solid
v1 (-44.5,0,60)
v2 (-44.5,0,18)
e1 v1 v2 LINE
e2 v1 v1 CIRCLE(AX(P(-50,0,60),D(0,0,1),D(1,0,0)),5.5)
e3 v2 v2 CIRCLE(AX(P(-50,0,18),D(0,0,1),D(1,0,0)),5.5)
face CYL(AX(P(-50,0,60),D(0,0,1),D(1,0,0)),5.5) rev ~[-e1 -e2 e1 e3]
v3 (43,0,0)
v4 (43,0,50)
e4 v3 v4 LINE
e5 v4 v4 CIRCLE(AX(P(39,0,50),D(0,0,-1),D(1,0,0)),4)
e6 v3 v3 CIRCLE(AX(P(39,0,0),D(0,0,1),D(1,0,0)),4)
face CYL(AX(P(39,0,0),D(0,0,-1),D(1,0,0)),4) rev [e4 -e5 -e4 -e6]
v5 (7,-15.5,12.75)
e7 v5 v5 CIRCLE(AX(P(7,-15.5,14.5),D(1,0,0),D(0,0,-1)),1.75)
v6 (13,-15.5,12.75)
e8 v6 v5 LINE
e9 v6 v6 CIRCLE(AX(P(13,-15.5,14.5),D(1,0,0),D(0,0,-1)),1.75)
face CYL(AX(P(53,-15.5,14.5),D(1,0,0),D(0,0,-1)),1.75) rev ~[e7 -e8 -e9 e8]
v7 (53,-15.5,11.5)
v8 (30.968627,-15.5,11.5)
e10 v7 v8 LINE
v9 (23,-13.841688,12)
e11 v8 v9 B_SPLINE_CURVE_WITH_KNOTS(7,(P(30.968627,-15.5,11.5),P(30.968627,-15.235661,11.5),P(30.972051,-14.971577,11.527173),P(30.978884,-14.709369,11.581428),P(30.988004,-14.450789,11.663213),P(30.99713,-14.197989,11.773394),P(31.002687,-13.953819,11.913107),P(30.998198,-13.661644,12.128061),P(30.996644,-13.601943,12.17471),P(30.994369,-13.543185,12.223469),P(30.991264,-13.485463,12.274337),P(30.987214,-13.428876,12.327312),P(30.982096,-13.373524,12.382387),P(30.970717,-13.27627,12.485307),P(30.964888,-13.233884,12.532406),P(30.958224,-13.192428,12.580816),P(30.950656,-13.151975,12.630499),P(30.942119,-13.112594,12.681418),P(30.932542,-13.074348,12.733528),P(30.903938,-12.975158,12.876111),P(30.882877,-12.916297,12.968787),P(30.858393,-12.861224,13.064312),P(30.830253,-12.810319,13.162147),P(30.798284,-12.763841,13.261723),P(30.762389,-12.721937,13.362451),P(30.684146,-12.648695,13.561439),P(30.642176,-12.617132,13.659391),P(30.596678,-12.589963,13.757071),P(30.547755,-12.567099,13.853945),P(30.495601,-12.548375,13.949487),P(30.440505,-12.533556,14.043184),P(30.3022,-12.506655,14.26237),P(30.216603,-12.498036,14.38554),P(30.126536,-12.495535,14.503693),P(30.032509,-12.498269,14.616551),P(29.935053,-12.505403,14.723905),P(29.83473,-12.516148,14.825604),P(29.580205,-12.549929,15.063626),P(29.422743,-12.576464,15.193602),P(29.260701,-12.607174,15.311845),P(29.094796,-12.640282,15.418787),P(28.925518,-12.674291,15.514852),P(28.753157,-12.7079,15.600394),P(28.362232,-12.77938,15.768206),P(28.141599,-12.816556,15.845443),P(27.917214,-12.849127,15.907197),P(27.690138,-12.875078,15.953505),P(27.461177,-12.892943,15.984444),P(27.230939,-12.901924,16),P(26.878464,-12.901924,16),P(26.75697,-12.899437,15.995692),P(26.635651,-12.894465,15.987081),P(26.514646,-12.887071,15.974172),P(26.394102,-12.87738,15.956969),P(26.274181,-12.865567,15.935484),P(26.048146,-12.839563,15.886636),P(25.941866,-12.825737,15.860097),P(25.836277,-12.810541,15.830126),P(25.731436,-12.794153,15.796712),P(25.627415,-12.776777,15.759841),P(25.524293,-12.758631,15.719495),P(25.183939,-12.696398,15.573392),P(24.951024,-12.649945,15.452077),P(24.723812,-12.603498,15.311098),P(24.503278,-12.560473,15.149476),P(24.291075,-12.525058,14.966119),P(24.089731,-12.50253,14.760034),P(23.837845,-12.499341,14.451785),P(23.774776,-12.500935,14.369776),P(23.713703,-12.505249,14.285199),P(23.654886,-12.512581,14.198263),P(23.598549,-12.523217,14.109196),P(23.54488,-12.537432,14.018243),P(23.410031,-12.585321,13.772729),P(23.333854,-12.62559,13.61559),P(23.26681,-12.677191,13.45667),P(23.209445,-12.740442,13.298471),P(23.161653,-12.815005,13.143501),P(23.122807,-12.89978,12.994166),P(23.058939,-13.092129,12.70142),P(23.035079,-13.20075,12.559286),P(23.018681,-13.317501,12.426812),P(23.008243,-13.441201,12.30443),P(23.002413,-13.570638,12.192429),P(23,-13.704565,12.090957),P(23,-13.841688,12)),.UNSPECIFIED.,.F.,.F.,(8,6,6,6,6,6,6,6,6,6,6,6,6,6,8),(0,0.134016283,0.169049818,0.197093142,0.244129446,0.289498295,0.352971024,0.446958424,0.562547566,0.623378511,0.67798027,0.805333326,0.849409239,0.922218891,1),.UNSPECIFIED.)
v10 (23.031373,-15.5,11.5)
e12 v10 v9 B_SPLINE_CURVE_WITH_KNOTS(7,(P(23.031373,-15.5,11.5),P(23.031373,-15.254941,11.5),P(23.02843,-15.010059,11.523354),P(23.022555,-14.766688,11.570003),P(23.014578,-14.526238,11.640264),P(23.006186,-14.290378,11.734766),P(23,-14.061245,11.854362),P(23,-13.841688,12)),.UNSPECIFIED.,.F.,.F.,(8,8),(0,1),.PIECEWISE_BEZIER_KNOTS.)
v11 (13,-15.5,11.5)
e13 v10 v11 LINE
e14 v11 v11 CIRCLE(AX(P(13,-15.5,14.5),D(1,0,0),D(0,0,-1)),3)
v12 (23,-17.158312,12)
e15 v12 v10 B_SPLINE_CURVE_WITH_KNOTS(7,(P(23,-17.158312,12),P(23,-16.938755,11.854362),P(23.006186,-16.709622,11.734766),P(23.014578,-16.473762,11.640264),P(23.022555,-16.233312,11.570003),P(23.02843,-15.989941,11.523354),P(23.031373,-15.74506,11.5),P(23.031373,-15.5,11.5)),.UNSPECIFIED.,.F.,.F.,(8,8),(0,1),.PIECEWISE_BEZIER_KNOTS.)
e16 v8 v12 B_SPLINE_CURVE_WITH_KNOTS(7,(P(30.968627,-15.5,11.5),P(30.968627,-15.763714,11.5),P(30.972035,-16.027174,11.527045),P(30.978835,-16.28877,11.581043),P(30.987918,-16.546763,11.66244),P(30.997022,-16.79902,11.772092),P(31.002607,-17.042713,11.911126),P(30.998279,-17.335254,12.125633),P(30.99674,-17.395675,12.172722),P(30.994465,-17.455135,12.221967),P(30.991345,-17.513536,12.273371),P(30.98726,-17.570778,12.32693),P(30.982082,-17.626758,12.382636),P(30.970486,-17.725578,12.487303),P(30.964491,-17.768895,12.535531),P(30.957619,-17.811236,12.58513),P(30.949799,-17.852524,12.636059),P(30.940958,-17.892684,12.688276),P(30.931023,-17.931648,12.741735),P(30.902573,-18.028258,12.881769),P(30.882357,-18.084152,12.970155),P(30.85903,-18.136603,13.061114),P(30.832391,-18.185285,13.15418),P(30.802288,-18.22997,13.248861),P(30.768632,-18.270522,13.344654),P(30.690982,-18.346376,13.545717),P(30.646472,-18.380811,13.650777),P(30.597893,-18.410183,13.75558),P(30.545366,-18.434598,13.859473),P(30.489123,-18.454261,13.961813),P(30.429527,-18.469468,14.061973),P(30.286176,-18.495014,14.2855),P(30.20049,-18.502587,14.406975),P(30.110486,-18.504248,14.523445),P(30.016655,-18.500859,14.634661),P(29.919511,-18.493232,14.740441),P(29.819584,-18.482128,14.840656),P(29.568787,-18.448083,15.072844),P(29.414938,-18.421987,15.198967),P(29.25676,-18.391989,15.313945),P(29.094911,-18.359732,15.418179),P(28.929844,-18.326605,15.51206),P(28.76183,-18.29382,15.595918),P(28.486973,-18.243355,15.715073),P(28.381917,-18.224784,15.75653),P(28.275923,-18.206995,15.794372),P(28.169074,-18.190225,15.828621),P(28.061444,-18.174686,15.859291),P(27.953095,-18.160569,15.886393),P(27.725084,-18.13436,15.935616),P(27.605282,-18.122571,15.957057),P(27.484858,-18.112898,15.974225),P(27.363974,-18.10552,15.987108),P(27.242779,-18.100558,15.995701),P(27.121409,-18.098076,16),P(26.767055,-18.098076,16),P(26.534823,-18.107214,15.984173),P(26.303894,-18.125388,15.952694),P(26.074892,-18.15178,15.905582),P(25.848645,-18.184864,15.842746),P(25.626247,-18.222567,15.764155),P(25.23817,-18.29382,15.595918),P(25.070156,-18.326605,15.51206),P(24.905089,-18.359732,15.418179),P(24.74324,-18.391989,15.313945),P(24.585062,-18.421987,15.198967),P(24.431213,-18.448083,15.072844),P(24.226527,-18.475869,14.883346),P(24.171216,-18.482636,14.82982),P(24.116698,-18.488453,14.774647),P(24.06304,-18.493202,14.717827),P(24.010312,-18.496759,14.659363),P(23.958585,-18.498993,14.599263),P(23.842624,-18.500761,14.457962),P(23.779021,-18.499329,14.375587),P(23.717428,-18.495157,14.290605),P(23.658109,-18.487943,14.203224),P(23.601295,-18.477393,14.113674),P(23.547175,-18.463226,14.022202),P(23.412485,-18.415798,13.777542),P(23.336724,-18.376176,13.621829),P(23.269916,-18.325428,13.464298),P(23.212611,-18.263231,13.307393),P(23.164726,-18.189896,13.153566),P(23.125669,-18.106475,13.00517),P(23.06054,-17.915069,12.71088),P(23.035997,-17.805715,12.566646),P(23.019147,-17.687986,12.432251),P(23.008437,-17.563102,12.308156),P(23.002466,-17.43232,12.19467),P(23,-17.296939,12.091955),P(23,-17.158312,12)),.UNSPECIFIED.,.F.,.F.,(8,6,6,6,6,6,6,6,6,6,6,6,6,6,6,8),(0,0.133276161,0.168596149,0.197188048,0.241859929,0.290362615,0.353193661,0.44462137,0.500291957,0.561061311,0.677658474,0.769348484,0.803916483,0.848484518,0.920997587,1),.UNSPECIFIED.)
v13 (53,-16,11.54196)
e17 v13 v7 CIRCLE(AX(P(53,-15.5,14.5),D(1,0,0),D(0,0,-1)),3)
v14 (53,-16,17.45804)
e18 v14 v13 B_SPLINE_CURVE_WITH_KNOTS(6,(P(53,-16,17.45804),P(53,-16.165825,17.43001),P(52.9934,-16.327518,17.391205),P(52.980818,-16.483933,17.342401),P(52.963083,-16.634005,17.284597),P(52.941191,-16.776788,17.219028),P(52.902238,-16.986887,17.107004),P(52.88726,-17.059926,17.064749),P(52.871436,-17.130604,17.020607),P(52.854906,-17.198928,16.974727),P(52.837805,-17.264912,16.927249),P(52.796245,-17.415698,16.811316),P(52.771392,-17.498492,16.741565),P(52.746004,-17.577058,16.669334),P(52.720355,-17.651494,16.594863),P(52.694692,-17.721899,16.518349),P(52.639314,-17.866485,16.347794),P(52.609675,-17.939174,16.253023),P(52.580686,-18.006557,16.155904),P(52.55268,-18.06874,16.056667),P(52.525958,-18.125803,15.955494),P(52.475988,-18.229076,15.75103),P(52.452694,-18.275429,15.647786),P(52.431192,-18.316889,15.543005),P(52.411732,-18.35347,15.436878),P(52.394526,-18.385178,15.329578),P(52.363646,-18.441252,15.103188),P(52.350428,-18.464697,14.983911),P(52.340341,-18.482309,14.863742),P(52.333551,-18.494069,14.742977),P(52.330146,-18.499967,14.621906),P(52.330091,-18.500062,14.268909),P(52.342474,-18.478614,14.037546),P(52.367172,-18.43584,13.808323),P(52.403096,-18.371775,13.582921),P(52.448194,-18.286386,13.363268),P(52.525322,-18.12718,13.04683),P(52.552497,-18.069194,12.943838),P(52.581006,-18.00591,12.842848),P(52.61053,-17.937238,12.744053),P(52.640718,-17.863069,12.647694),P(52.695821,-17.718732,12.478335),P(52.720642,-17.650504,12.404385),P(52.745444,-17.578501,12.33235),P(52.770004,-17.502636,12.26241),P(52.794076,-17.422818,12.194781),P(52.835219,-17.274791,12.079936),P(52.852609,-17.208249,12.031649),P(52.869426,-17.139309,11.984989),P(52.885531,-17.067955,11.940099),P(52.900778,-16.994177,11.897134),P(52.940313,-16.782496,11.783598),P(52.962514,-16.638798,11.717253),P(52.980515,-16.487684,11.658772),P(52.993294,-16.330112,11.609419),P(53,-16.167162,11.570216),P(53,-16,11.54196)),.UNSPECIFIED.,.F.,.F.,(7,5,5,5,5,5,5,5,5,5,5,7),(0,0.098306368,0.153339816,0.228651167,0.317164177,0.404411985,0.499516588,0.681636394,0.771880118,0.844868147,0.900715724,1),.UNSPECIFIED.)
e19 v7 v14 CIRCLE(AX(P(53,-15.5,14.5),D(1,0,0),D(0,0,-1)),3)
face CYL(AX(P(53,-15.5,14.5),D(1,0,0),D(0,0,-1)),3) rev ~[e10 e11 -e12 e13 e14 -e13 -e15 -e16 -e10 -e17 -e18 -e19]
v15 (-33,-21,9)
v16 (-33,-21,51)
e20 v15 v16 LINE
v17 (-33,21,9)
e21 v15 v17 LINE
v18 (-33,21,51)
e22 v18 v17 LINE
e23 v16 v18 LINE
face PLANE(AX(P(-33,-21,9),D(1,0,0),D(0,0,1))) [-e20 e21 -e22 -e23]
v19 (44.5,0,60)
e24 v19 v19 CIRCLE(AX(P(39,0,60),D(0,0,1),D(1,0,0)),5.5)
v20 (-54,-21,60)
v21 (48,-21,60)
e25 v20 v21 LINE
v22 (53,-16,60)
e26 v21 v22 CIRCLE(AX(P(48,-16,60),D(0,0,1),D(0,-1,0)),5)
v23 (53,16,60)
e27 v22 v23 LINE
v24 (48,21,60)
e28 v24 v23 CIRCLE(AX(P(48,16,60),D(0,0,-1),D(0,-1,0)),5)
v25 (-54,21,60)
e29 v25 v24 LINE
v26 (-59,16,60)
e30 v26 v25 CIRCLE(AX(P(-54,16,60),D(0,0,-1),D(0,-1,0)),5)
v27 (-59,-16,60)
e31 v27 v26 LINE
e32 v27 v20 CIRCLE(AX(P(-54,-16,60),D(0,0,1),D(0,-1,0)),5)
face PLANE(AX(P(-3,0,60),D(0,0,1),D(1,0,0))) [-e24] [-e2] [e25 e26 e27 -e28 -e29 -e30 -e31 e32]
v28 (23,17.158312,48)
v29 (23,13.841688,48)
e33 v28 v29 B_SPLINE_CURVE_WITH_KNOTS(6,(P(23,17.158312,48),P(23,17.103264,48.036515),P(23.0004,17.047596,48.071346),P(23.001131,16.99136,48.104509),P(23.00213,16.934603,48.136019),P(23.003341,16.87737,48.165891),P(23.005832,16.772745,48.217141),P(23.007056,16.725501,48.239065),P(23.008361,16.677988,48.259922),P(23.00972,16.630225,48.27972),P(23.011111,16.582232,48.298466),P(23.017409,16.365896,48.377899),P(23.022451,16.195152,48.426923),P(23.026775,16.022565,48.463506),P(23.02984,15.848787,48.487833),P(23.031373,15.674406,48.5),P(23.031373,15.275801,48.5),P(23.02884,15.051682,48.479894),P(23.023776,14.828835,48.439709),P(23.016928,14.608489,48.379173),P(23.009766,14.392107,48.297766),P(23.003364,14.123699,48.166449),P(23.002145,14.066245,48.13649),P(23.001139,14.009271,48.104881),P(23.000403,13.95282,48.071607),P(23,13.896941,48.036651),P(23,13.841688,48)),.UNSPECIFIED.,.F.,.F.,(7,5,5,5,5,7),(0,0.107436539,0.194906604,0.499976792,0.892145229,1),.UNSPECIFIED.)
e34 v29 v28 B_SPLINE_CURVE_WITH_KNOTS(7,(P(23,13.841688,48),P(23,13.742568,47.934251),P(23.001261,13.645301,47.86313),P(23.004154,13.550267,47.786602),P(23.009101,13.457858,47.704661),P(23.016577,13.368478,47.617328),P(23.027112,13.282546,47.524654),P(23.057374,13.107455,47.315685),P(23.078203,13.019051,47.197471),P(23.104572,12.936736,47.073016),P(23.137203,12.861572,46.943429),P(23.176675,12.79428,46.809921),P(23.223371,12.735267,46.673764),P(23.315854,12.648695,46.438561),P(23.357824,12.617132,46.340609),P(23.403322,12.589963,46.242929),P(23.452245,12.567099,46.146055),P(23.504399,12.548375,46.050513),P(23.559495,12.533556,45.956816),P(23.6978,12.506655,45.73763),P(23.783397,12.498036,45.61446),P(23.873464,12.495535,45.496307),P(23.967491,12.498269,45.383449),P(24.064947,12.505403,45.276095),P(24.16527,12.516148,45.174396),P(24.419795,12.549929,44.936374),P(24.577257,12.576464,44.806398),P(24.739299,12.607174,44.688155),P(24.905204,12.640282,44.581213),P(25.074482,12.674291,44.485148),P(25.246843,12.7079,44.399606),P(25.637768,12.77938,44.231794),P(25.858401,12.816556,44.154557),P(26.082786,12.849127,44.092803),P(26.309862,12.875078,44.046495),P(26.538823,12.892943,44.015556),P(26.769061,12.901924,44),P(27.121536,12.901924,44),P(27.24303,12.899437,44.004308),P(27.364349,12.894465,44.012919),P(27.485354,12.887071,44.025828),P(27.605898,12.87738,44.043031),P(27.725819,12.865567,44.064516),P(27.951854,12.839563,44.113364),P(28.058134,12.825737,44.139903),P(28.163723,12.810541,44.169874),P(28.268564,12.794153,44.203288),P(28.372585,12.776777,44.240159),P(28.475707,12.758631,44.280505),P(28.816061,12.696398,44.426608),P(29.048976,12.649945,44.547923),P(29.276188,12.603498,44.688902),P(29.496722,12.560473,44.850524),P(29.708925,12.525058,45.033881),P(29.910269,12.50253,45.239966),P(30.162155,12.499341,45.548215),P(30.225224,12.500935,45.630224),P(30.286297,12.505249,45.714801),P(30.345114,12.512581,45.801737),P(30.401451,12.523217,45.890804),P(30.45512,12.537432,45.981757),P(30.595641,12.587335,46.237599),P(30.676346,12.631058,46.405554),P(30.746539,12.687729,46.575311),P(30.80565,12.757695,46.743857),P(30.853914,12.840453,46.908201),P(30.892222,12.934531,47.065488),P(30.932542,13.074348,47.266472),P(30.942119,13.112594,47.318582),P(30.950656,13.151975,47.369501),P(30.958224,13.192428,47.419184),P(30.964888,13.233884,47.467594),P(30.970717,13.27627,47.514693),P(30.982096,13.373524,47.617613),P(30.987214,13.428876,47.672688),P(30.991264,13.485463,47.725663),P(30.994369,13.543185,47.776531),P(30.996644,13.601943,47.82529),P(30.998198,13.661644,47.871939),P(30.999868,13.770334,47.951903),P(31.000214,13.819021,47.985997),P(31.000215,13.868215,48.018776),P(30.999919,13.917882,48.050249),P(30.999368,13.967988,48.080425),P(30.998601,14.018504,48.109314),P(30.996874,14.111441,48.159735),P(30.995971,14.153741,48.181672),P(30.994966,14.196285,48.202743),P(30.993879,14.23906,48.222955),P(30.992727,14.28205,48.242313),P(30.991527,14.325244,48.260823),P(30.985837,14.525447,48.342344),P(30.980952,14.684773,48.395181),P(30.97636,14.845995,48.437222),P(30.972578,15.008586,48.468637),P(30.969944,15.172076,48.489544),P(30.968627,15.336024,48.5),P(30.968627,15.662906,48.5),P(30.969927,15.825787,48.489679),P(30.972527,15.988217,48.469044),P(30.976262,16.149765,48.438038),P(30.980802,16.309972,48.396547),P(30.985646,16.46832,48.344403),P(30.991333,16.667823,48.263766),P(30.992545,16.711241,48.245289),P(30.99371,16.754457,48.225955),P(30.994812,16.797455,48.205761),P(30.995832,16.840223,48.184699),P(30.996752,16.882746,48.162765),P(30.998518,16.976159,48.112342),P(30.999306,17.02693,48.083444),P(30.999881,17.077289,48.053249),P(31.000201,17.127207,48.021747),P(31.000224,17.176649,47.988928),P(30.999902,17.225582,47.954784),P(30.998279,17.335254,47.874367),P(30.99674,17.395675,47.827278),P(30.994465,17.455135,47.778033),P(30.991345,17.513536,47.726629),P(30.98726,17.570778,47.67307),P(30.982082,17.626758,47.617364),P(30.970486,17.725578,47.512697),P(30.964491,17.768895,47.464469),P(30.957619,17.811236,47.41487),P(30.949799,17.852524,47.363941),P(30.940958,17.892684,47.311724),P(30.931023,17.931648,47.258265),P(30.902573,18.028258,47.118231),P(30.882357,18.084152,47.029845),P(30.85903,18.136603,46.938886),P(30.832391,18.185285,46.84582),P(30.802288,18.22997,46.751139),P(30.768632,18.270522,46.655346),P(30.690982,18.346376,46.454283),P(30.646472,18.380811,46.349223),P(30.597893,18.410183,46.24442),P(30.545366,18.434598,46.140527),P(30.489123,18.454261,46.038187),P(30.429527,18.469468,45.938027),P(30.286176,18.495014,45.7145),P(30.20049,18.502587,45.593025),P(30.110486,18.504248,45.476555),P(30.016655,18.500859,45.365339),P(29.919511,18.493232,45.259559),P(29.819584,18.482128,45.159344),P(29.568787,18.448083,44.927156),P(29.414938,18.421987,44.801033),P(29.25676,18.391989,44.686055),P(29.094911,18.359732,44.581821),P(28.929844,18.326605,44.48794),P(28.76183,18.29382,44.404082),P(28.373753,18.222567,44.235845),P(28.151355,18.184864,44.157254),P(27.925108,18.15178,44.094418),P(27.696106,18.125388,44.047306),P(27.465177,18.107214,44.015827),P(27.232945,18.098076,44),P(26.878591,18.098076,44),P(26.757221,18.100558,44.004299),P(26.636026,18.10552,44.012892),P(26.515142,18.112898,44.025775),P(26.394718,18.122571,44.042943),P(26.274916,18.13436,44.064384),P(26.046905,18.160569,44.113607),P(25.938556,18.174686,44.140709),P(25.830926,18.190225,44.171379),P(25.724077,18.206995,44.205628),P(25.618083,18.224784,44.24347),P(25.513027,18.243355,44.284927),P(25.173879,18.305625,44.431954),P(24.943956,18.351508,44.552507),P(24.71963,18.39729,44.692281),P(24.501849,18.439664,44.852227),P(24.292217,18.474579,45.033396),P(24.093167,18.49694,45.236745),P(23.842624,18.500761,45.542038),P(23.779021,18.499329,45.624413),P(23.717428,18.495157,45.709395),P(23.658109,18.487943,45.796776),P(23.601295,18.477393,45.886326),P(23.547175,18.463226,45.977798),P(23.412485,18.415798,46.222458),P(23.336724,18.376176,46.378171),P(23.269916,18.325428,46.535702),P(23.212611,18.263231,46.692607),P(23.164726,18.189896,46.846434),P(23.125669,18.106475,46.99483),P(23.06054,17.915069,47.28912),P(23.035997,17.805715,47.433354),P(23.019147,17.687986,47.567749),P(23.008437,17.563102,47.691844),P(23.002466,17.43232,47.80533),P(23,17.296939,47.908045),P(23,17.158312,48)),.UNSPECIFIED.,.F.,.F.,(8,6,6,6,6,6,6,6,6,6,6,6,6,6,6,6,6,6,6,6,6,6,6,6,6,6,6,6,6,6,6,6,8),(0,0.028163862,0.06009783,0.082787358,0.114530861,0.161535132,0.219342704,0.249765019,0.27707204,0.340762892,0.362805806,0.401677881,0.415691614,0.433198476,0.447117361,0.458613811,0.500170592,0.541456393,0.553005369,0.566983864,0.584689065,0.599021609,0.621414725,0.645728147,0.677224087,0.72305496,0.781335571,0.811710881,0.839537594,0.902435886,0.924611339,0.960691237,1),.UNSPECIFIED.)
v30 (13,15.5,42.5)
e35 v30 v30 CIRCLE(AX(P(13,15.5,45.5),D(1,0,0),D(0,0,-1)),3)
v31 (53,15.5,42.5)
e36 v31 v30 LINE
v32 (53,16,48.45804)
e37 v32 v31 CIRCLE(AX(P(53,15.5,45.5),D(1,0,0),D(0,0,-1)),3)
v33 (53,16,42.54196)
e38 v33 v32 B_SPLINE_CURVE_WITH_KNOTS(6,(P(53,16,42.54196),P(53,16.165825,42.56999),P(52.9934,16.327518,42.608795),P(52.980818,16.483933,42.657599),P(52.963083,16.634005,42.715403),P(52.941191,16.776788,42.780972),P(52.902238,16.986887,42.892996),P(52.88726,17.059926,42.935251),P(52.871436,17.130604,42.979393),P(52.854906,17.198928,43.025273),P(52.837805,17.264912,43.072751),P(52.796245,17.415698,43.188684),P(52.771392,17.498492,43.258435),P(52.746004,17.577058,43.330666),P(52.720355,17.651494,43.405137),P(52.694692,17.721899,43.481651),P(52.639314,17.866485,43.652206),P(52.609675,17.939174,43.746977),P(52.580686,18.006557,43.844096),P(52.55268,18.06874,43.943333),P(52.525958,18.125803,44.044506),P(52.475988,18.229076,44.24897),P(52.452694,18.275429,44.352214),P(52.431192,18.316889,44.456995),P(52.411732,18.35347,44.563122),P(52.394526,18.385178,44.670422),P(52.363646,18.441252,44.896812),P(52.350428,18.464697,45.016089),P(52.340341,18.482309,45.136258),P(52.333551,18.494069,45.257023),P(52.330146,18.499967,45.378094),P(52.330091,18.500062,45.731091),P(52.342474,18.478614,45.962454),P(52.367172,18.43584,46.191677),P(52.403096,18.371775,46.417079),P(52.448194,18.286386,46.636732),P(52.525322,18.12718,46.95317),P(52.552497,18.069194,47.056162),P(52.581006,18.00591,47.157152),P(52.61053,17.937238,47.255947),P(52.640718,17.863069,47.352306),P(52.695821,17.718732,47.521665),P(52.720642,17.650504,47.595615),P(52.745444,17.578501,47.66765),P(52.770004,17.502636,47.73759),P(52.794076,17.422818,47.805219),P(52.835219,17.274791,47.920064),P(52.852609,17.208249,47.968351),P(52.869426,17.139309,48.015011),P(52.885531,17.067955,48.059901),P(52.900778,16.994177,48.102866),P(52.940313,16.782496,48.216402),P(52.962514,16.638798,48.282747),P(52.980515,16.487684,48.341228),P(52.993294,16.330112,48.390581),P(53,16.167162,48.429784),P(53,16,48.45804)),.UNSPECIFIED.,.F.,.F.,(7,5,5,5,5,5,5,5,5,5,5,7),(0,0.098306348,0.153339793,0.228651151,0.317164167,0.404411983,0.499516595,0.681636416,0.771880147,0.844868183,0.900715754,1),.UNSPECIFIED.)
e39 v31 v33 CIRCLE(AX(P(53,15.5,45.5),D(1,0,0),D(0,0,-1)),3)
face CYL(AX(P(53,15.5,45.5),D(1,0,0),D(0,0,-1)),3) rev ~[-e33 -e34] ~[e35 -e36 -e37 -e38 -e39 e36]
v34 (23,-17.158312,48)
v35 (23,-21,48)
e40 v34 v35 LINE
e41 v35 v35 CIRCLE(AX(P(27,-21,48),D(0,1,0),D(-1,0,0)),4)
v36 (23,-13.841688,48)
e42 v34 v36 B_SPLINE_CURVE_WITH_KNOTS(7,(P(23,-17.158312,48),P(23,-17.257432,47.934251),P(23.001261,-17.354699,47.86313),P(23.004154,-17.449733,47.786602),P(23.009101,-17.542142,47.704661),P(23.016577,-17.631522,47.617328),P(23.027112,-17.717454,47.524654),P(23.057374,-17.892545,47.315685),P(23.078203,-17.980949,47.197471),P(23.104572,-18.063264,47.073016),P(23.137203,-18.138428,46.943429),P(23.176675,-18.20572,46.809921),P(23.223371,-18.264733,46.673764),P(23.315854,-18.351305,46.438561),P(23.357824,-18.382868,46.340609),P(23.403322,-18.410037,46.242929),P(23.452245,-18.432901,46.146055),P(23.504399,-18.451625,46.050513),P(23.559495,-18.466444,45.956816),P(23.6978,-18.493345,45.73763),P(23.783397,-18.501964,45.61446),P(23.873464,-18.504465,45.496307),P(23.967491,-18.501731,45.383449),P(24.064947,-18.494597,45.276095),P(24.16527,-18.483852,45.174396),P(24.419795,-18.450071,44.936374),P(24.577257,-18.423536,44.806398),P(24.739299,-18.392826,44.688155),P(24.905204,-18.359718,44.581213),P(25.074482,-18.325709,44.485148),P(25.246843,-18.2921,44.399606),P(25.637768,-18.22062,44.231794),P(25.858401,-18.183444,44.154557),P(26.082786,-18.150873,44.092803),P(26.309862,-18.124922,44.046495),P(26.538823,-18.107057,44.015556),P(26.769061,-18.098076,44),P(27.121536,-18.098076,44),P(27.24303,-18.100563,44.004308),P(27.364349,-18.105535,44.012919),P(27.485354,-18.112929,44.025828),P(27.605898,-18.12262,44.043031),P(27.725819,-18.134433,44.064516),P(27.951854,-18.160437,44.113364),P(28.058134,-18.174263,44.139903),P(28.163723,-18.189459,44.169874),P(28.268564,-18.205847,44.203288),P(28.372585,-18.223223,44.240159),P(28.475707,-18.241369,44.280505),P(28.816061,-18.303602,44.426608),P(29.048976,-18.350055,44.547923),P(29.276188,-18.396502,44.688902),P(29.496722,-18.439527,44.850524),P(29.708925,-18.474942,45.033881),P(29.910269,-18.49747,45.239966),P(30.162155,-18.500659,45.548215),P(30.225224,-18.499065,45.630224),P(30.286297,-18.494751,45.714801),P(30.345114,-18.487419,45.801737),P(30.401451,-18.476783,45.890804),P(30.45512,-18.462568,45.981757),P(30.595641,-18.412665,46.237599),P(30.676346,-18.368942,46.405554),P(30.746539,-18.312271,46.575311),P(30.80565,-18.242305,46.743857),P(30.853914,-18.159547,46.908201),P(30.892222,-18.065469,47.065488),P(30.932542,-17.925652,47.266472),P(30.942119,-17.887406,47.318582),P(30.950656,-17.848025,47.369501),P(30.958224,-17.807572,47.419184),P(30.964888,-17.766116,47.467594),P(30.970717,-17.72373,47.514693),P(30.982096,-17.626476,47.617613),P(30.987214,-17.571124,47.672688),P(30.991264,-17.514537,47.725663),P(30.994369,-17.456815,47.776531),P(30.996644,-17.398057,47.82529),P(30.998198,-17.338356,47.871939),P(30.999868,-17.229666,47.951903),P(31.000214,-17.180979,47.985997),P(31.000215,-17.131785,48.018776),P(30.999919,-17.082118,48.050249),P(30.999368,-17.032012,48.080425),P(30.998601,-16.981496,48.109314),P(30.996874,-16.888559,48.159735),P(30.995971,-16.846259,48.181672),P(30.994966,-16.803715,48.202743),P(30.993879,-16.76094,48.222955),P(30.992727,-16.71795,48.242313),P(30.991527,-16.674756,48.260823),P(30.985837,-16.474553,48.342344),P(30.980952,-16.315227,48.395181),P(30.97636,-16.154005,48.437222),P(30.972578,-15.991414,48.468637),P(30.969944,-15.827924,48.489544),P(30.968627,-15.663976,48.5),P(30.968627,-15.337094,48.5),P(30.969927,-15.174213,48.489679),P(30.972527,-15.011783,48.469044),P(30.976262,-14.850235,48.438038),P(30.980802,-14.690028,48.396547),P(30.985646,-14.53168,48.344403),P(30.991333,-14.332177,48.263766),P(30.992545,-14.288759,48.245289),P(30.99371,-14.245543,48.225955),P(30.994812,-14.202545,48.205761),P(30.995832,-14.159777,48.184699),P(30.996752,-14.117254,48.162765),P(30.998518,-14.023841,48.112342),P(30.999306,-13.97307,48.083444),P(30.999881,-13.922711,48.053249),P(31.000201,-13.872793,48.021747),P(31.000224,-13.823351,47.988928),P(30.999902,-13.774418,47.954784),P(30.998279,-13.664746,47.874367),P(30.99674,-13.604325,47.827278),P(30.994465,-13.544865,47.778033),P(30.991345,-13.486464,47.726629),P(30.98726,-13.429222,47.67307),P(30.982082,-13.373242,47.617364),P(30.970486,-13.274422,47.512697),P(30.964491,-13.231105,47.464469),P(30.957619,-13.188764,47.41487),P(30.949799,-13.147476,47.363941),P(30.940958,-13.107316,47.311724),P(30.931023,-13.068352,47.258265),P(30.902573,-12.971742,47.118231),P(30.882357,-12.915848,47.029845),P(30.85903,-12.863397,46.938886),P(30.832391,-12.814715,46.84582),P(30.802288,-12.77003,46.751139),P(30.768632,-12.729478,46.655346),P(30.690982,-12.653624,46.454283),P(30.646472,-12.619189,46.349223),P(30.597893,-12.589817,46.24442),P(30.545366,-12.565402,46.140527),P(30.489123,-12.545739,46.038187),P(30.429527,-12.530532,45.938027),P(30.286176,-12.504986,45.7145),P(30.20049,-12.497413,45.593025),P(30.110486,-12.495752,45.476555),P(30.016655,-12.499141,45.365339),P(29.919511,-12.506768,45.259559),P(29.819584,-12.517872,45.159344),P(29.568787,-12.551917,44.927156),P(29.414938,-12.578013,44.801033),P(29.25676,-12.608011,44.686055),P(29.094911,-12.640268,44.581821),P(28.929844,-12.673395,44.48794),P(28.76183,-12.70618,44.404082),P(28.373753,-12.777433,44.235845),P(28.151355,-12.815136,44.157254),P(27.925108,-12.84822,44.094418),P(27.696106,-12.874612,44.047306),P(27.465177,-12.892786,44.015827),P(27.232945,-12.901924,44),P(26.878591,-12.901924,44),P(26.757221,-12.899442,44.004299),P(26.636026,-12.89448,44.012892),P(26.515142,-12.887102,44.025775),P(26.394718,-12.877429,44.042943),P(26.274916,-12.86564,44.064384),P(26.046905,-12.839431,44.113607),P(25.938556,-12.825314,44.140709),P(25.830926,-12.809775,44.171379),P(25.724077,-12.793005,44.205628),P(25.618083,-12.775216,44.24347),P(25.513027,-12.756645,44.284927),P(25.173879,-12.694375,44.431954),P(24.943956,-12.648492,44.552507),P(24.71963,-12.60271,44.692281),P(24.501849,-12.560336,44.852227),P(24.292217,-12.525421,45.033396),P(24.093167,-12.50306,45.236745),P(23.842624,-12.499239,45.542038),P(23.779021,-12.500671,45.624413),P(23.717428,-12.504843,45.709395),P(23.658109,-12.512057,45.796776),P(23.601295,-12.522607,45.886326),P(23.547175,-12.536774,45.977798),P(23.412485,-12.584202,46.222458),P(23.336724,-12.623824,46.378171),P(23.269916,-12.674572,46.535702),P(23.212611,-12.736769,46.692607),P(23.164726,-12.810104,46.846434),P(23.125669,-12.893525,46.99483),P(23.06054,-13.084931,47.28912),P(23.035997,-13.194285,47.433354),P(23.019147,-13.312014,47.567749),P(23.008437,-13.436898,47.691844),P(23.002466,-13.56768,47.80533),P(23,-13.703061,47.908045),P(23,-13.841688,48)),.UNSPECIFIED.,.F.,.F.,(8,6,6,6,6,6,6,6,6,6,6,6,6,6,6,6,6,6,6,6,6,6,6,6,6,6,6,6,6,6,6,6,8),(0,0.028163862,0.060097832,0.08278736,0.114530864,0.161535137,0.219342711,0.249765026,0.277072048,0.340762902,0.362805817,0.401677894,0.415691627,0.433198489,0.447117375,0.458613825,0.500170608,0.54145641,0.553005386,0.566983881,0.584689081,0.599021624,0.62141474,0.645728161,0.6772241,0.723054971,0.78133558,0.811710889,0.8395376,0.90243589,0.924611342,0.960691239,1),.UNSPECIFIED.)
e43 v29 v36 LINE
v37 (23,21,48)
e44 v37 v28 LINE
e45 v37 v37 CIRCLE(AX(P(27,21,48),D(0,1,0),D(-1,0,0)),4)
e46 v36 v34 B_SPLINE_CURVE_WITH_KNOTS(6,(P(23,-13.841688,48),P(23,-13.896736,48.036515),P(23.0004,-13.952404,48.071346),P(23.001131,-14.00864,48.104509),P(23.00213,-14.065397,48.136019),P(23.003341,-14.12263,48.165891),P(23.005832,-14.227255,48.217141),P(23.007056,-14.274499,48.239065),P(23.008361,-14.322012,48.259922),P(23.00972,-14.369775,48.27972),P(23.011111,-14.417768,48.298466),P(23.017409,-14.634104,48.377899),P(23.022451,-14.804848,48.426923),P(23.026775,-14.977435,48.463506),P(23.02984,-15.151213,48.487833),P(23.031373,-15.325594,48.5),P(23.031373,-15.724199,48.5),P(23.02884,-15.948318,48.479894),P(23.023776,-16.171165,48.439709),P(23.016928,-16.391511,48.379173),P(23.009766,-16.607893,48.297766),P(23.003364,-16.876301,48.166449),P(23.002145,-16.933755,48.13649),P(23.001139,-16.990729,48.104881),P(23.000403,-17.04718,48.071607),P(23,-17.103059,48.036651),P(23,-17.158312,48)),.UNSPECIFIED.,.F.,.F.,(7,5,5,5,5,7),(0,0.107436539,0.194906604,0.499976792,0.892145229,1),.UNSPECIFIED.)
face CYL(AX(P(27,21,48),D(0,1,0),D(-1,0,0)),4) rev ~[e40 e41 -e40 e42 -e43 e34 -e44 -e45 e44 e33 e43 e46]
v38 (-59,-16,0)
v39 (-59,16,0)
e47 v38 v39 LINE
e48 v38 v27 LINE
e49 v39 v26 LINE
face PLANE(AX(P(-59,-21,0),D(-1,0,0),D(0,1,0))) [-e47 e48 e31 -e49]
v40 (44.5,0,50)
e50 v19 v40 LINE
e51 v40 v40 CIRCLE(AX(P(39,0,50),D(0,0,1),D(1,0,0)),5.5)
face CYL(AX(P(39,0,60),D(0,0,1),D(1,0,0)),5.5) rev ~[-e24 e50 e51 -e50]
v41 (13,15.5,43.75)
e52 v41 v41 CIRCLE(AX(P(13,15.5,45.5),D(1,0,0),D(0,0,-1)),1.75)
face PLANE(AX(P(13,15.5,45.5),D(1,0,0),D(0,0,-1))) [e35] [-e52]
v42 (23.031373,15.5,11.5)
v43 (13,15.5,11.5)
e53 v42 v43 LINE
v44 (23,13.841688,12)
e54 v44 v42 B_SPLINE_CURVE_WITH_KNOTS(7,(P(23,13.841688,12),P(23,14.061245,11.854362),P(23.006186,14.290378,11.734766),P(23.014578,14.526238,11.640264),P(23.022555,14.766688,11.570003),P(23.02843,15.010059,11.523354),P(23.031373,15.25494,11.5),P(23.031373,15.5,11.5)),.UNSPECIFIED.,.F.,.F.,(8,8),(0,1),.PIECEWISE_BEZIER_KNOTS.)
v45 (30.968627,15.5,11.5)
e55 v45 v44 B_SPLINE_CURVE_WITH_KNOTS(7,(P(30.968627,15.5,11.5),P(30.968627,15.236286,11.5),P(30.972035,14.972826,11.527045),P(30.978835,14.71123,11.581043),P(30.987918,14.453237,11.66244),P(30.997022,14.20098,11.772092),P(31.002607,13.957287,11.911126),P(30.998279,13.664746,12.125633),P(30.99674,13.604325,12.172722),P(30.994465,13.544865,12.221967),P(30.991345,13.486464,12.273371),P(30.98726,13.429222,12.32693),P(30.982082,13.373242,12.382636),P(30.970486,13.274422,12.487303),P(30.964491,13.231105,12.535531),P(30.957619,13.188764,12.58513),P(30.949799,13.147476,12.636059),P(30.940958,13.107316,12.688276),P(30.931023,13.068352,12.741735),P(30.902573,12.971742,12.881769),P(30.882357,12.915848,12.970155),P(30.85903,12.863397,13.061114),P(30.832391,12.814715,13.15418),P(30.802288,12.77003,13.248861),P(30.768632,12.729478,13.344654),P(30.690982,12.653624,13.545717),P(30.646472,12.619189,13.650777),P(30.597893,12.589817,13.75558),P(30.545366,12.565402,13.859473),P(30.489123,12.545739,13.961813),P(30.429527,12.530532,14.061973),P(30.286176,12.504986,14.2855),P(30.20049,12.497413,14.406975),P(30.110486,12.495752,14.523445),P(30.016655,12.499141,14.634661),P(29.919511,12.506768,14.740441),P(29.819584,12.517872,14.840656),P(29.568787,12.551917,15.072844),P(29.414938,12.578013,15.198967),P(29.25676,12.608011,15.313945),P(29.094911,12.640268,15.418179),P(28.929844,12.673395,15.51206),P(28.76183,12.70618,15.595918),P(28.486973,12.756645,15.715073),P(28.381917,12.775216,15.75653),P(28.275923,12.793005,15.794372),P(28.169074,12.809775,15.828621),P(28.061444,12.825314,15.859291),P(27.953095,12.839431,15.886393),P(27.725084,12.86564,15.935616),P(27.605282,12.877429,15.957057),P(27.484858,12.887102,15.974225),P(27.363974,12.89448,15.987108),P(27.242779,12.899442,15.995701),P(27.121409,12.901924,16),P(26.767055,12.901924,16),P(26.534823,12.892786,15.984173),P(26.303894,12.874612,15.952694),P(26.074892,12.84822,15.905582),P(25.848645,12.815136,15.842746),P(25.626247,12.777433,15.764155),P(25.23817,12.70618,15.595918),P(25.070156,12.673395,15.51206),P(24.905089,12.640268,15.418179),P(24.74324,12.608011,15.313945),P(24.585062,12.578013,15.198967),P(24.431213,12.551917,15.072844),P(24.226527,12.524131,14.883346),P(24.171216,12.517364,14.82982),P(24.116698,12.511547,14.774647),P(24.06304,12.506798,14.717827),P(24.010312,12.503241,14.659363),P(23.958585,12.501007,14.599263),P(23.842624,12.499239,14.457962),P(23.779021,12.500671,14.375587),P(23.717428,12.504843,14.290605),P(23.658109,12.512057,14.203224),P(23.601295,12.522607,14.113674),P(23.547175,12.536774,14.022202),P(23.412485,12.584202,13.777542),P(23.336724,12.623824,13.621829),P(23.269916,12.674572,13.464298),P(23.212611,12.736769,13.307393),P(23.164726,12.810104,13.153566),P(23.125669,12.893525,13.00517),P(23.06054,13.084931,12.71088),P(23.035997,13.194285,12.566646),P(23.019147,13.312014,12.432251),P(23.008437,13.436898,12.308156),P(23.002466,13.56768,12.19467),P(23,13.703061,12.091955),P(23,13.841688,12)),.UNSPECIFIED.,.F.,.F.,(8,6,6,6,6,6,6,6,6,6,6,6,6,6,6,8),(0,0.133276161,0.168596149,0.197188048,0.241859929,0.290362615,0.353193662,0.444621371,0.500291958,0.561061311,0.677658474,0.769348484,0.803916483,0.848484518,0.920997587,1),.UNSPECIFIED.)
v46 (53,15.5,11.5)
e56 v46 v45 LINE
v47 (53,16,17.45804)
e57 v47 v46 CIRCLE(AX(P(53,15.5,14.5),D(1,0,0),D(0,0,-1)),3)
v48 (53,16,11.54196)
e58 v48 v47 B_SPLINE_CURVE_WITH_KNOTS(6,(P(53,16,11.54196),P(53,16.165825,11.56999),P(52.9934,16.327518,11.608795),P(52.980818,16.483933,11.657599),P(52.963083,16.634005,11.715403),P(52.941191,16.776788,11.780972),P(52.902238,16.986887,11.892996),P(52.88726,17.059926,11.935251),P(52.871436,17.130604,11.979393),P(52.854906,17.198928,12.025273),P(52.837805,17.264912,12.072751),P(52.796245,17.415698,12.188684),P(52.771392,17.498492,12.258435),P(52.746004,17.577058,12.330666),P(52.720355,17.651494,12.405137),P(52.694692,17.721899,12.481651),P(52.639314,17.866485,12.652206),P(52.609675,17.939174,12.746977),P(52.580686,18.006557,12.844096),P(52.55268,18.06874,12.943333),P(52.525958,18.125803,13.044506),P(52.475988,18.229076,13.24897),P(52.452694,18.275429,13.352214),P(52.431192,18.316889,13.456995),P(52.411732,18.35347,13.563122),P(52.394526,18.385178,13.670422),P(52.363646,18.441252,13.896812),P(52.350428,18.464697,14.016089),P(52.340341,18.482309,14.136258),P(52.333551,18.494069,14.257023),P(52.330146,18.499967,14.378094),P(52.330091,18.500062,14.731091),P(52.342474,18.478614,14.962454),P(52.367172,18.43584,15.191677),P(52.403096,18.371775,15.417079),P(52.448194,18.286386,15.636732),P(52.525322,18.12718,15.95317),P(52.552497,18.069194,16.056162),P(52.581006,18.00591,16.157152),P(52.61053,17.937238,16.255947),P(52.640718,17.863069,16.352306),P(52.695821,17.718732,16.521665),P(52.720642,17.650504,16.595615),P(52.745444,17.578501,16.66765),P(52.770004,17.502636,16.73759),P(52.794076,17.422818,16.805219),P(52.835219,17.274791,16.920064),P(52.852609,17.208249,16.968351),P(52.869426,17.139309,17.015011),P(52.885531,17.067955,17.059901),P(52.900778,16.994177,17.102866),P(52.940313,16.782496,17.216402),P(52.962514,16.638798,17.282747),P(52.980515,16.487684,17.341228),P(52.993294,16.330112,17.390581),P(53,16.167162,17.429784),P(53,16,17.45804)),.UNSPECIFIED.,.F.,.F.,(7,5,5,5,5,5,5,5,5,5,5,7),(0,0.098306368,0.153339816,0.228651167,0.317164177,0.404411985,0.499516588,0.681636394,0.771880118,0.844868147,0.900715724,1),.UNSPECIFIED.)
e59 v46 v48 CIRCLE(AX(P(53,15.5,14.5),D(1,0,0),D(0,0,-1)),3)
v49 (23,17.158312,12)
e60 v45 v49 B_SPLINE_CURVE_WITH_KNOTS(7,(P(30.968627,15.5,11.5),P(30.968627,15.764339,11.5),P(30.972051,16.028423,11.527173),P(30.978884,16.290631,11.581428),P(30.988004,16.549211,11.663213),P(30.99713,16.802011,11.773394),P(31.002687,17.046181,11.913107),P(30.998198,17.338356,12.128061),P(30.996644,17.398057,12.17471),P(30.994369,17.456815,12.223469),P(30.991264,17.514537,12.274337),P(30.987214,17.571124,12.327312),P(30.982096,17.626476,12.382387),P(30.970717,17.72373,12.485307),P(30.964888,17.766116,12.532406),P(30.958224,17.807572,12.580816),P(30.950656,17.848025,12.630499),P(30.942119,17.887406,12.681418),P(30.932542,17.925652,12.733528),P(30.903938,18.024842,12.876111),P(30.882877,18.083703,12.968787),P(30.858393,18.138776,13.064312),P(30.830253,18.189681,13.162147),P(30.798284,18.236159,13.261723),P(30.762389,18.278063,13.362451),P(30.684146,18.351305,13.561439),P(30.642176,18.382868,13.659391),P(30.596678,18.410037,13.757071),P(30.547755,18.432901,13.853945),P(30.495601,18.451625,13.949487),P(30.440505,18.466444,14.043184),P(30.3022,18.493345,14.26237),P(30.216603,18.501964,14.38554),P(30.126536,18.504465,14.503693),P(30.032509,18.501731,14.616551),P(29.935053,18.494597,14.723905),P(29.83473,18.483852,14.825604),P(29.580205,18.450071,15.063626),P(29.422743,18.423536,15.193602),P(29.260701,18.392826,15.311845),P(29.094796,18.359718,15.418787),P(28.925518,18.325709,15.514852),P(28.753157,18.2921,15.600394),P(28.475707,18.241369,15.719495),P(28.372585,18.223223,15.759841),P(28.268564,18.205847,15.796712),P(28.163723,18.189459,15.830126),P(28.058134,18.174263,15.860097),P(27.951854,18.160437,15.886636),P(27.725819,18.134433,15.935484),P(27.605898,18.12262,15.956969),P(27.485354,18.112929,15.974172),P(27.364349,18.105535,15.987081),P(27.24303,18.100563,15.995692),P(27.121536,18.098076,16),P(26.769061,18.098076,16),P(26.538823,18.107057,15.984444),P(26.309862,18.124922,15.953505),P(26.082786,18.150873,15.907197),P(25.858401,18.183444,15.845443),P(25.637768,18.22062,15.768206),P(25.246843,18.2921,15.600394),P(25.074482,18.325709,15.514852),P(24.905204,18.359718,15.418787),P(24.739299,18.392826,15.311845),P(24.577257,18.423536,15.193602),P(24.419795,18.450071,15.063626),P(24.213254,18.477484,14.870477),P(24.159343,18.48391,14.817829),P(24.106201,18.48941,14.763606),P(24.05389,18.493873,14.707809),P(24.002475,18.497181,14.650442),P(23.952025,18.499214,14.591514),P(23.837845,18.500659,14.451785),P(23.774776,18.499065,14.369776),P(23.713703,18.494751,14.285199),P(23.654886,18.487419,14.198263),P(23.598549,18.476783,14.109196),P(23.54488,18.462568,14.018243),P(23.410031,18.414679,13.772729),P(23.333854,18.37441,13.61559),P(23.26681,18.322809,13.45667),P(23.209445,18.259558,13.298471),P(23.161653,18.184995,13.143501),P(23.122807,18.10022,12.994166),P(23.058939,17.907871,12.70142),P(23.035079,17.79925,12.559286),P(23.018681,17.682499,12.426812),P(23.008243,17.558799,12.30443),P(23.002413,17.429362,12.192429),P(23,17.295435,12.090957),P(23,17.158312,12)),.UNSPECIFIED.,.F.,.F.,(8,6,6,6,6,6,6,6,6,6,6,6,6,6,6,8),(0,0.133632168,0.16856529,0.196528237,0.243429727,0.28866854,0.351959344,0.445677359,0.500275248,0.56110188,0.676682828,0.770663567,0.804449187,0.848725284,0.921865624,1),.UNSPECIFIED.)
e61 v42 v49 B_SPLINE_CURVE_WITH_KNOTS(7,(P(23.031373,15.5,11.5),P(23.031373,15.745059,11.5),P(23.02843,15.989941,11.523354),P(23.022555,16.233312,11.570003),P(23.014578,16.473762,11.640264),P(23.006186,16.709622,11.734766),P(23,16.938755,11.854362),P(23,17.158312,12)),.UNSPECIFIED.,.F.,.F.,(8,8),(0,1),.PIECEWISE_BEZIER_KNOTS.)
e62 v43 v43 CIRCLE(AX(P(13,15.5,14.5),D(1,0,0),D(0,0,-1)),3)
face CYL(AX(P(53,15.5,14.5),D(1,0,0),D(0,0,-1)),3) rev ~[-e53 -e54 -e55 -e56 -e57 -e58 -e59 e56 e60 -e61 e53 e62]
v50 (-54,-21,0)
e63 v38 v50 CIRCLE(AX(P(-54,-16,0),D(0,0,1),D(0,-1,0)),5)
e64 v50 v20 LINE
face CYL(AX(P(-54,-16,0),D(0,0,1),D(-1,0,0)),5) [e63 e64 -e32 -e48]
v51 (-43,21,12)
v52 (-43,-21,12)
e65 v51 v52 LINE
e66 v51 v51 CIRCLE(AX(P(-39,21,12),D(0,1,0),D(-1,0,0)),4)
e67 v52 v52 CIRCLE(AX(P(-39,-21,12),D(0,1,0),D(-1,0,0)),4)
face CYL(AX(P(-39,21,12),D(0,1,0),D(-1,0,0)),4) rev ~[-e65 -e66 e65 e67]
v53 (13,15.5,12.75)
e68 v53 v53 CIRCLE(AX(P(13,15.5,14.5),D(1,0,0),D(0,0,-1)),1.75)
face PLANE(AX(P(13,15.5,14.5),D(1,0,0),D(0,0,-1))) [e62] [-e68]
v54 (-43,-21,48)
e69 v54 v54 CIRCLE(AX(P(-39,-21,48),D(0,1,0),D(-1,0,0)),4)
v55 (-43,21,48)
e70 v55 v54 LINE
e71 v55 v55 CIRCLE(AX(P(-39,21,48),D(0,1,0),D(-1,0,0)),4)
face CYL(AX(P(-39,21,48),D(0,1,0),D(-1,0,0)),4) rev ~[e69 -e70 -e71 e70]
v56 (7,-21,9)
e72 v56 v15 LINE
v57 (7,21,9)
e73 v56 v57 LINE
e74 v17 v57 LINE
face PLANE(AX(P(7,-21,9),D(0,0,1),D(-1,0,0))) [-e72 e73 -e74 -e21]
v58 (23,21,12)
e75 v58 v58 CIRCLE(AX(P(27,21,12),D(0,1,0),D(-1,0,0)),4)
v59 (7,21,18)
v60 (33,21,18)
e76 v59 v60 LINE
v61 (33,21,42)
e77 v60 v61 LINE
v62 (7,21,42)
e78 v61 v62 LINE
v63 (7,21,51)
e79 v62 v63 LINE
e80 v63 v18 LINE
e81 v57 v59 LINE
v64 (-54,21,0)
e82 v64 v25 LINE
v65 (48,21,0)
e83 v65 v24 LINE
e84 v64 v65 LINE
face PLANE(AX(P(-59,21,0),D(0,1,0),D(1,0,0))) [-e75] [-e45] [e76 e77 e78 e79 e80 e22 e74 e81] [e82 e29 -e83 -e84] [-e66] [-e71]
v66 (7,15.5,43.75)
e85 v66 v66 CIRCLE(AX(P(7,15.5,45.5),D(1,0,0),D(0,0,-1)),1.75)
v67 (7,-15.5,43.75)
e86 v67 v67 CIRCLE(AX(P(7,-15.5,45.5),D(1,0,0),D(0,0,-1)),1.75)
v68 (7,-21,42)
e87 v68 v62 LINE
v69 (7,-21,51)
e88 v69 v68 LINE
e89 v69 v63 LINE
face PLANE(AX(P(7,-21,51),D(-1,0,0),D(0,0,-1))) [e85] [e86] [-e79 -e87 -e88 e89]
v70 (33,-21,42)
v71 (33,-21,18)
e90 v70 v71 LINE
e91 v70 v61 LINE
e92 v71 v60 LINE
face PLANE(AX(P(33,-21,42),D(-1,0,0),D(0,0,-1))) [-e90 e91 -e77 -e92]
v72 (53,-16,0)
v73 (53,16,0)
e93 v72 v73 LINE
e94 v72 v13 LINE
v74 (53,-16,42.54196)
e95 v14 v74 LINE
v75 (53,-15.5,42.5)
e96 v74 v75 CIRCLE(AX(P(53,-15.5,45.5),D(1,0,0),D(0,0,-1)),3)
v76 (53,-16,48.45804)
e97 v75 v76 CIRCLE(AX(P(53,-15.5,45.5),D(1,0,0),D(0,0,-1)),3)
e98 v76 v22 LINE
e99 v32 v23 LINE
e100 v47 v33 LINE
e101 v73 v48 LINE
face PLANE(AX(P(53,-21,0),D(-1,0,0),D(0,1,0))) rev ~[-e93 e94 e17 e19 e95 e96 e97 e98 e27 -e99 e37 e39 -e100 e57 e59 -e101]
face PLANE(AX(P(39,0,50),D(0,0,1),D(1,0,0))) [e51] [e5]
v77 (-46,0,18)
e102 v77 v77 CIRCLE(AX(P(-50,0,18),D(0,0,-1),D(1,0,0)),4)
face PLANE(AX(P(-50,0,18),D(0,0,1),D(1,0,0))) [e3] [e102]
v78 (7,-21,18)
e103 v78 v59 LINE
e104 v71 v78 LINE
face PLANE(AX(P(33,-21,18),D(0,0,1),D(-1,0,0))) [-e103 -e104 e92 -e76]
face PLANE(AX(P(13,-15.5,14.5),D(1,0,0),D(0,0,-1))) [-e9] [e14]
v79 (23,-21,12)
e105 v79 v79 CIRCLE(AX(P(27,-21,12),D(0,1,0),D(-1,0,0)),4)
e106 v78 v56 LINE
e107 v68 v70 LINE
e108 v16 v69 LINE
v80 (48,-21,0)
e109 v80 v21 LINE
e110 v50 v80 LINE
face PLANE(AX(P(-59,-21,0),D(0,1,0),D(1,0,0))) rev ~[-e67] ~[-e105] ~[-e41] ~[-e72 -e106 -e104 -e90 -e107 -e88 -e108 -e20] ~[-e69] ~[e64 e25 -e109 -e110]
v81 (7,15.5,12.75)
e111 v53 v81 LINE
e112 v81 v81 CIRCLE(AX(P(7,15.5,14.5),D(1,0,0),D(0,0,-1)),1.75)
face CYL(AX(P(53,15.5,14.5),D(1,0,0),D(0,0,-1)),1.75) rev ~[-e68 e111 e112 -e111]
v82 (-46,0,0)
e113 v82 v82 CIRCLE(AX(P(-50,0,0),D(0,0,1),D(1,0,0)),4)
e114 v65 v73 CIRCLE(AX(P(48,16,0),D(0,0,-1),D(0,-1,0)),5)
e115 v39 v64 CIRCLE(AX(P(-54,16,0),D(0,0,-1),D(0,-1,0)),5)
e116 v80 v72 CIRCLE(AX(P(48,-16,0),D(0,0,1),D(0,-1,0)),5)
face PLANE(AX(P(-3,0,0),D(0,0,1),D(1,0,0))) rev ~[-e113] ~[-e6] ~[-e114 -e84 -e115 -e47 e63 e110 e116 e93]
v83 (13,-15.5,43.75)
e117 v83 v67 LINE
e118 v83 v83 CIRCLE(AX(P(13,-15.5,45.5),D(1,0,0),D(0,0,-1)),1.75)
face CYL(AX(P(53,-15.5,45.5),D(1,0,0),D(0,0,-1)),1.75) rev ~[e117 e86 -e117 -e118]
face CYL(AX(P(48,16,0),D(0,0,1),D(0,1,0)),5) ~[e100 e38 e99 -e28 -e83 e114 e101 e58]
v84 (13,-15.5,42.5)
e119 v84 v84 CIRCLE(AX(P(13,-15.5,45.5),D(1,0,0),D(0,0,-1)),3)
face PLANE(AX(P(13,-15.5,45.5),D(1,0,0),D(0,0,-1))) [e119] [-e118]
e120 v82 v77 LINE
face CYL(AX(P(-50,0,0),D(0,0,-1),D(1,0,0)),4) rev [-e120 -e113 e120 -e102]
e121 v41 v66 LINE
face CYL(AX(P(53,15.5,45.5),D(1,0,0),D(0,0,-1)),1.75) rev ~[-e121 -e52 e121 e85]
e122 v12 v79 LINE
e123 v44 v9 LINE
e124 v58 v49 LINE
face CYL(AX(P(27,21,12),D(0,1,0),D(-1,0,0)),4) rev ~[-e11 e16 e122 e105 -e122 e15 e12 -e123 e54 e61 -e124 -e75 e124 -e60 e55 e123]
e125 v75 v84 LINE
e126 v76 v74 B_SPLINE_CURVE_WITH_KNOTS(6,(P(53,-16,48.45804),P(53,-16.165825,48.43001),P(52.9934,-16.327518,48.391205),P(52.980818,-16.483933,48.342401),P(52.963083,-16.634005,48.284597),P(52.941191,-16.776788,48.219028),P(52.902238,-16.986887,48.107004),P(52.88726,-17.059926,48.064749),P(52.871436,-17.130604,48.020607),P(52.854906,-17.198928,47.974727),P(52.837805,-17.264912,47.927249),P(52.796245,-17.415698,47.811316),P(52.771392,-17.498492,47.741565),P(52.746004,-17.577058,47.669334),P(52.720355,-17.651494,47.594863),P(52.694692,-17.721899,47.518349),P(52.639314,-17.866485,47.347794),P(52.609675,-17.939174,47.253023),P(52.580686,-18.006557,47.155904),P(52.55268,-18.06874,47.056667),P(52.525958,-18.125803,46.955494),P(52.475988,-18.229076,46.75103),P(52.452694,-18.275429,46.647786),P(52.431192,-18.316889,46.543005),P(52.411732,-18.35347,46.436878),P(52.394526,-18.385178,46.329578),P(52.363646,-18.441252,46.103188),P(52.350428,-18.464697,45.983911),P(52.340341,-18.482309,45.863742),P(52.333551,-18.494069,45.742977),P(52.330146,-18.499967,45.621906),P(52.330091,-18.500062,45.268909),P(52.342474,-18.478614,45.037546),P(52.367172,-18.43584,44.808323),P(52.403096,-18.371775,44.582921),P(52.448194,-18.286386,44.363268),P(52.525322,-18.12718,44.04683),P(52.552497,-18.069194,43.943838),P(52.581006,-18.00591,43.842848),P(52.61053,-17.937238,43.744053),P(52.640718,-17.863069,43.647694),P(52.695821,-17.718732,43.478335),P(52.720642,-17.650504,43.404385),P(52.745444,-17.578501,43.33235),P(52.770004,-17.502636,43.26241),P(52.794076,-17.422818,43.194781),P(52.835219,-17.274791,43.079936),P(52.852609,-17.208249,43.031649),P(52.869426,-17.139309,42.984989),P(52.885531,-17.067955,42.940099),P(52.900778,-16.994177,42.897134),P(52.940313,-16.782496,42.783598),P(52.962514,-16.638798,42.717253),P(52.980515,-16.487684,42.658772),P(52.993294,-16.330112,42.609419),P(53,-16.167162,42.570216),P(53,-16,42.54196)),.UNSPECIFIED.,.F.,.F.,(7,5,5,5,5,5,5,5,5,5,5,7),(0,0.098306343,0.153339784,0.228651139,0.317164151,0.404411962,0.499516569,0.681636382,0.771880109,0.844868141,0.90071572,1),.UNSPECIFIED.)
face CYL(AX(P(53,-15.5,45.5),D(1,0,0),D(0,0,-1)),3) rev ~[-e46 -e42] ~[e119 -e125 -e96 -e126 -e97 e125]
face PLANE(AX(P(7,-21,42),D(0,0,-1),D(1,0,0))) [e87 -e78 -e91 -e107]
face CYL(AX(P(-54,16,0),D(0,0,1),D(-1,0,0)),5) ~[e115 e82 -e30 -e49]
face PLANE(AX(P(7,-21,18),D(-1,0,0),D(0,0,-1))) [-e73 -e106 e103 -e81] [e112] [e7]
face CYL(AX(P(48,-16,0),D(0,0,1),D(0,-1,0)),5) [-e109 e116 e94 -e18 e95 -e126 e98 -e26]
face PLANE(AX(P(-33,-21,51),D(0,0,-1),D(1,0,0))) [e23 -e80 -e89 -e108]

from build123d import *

# Parameters (mm, degrees)
SKETCH_1_W          = 112
SKETCH_1_H          = 42
SKETCH_1_R          = 4
EXTRUDE_1_DEPTH     = 60
SKETCH_3_R          = 4
CUT_EXTRUDE_2_DEPTH = 95.047860156
FILLET_1_R          = 5
SKETCH_6_R          = 5.5
CUT_EXTRUDE_4_DEPTH = 10
SKETCH_7_R          = 5.5
CUT_EXTRUDE_5_DEPTH = 42
CUT_EXTRUDE_7_DEPTH = 95.047860156
CUT_EXTRUDE_8_REACH = 130.783
SKETCH_10_R         = 1.75
SKETCH_11_R         = 3
CUT_EXTRUDE_9_DEPTH = 40


with BuildPart() as part:
    # 草圖1 → 填料-伸長1 (new body)
    with BuildSketch(Plane.XY):
        with Locations((-3, 0)):
            Rectangle(SKETCH_1_W, SKETCH_1_H)
        with Locations((39, 0)):
            Circle(SKETCH_1_R, mode=Mode.SUBTRACT)
        with Locations((-50, 0)):
            Circle(SKETCH_1_R, mode=Mode.SUBTRACT)
    extrude(amount=EXTRUDE_1_DEPTH)

    # 草圖3 → 除料-伸長2 (cut, through all)
    with BuildSketch(Plane(origin=(0, 21, 0), x_dir=(1, 0, 0), z_dir=(0, 1, 0))):
        with Locations(Location((-39, -12, 0), (0, 0, 180))):
            Circle(SKETCH_3_R)
        with Locations(Location((27, -12, 0), (0, 0, 180))):
            Circle(SKETCH_3_R)
        with Locations(Location((27, -48, 0), (0, 0, 180))):
            Circle(SKETCH_3_R)
        with Locations(Location((-39, -48, 0), (0, 0, 180))):
            Circle(SKETCH_3_R)
    extrude(amount=-CUT_EXTRUDE_2_DEPTH, mode=Mode.SUBTRACT)

    # 圓角1
    fillet_1_edges = [part.edges().sort_by_distance(p)[0] for p in [
        (-59, 21, 30),
        (53, 21, 30),
        (53, -21, 30),
        (-59, -21, 30),
    ]]
    fillet(fillet_1_edges, radius=FILLET_1_R)

    # 草圖6 → 除料-伸長4 (cut)
    with BuildSketch(Plane.XY.offset(60)):
        with Locations((39, 0)):
            Circle(SKETCH_6_R)
    extrude(amount=-CUT_EXTRUDE_4_DEPTH, mode=Mode.SUBTRACT)

    # 草圖7 → 除料-伸長5 (cut)
    with BuildSketch(Plane.XY.offset(60)):
        with Locations((-50, 0)):
            Circle(SKETCH_7_R)
    extrude(amount=-CUT_EXTRUDE_5_DEPTH, mode=Mode.SUBTRACT)

    # 草圖9 → 除料-伸長7 (cut, through all)
    with BuildSketch(Plane.XZ.offset(21)):
        Polygon((-33, 51), (7, 51), (7, 42), (33, 42), (33, 18), (7, 18), (7, 9), (-33, 9), align=None)
    extrude(amount=-CUT_EXTRUDE_7_DEPTH, mode=Mode.SUBTRACT)

    # 除料-伸長8: up to this face of the body (flat: up to its plane)
    cut_extrude_8_end = Plane(part.part.faces().sort_by_distance((7, 0, 46.5))[0])
    # 草圖10 → 除料-伸長8 (cut, up to the picked face)
    with BuildSketch(Plane(origin=(53, 0, 0), x_dir=(0, 0, -1), z_dir=(1, 0, 0)), mode=Mode.PRIVATE) as cut_extrude_8_sk1:
        with Locations((-45.5, -15.5)):
            Circle(SKETCH_10_R)
    cut_extrude_8_tool1 = split(extrude(cut_extrude_8_sk1.sketch, amount=-CUT_EXTRUDE_8_REACH, mode=Mode.PRIVATE), bisect_by=cut_extrude_8_end, keep=Keep.BOTH, mode=Mode.PRIVATE)
    # 草圖10 → 除料-伸長8 (cut, up to the picked face)
    with BuildSketch(Plane(origin=(53, 0, 0), x_dir=(0, 0, -1), z_dir=(1, 0, 0)), mode=Mode.PRIVATE) as cut_extrude_8_sk2:
        with Locations((-45.5, 15.5)):
            Circle(SKETCH_10_R)
    cut_extrude_8_tool2 = split(extrude(cut_extrude_8_sk2.sketch, amount=-CUT_EXTRUDE_8_REACH, mode=Mode.PRIVATE), bisect_by=cut_extrude_8_end, keep=Keep.BOTH, mode=Mode.PRIVATE)
    # 草圖10 → 除料-伸長8 (cut, up to the picked face)
    with BuildSketch(Plane(origin=(53, 0, 0), x_dir=(0, 0, -1), z_dir=(1, 0, 0)), mode=Mode.PRIVATE) as cut_extrude_8_sk3:
        with Locations((-14.5, 15.5)):
            Circle(SKETCH_10_R)
    cut_extrude_8_tool3 = split(extrude(cut_extrude_8_sk3.sketch, amount=-CUT_EXTRUDE_8_REACH, mode=Mode.PRIVATE), bisect_by=cut_extrude_8_end, keep=Keep.BOTH, mode=Mode.PRIVATE)
    # 草圖10 → 除料-伸長8 (cut, up to the picked face)
    with BuildSketch(Plane(origin=(53, 0, 0), x_dir=(0, 0, -1), z_dir=(1, 0, 0)), mode=Mode.PRIVATE) as cut_extrude_8_sk4:
        with Locations((-14.5, -15.5)):
            Circle(SKETCH_10_R)
    cut_extrude_8_tool4 = split(extrude(cut_extrude_8_sk4.sketch, amount=-CUT_EXTRUDE_8_REACH, mode=Mode.PRIVATE), bisect_by=cut_extrude_8_end, keep=Keep.BOTH, mode=Mode.PRIVATE)
    add(cut_extrude_8_tool1.solids().sort_by(Axis((53, -15.5, 45.5), (-1, 0, 0)))[0], mode=Mode.SUBTRACT)
    add(cut_extrude_8_tool2.solids().sort_by(Axis((53, 15.5, 45.5), (-1, 0, 0)))[0], mode=Mode.SUBTRACT)
    add(cut_extrude_8_tool3.solids().sort_by(Axis((53, 15.5, 14.5), (-1, 0, 0)))[0], mode=Mode.SUBTRACT)
    add(cut_extrude_8_tool4.solids().sort_by(Axis((53, -15.5, 14.5), (-1, 0, 0)))[0], mode=Mode.SUBTRACT)

    # 草圖11 → 除料-伸長9 (cut)
    with BuildSketch(Plane(origin=(53, 0, 0), x_dir=(0, 0, -1), z_dir=(1, 0, 0))):
        with Locations((-45.5, -15.5)):
            Circle(SKETCH_11_R)
        with Locations((-45.5, 15.5)):
            Circle(SKETCH_11_R)
        with Locations((-14.5, 15.5)):
            Circle(SKETCH_11_R)
        with Locations((-14.5, -15.5)):
            Circle(SKETCH_11_R)
    extrude(amount=-CUT_EXTRUDE_9_DEPTH, mode=Mode.SUBTRACT)


solid = part.part
